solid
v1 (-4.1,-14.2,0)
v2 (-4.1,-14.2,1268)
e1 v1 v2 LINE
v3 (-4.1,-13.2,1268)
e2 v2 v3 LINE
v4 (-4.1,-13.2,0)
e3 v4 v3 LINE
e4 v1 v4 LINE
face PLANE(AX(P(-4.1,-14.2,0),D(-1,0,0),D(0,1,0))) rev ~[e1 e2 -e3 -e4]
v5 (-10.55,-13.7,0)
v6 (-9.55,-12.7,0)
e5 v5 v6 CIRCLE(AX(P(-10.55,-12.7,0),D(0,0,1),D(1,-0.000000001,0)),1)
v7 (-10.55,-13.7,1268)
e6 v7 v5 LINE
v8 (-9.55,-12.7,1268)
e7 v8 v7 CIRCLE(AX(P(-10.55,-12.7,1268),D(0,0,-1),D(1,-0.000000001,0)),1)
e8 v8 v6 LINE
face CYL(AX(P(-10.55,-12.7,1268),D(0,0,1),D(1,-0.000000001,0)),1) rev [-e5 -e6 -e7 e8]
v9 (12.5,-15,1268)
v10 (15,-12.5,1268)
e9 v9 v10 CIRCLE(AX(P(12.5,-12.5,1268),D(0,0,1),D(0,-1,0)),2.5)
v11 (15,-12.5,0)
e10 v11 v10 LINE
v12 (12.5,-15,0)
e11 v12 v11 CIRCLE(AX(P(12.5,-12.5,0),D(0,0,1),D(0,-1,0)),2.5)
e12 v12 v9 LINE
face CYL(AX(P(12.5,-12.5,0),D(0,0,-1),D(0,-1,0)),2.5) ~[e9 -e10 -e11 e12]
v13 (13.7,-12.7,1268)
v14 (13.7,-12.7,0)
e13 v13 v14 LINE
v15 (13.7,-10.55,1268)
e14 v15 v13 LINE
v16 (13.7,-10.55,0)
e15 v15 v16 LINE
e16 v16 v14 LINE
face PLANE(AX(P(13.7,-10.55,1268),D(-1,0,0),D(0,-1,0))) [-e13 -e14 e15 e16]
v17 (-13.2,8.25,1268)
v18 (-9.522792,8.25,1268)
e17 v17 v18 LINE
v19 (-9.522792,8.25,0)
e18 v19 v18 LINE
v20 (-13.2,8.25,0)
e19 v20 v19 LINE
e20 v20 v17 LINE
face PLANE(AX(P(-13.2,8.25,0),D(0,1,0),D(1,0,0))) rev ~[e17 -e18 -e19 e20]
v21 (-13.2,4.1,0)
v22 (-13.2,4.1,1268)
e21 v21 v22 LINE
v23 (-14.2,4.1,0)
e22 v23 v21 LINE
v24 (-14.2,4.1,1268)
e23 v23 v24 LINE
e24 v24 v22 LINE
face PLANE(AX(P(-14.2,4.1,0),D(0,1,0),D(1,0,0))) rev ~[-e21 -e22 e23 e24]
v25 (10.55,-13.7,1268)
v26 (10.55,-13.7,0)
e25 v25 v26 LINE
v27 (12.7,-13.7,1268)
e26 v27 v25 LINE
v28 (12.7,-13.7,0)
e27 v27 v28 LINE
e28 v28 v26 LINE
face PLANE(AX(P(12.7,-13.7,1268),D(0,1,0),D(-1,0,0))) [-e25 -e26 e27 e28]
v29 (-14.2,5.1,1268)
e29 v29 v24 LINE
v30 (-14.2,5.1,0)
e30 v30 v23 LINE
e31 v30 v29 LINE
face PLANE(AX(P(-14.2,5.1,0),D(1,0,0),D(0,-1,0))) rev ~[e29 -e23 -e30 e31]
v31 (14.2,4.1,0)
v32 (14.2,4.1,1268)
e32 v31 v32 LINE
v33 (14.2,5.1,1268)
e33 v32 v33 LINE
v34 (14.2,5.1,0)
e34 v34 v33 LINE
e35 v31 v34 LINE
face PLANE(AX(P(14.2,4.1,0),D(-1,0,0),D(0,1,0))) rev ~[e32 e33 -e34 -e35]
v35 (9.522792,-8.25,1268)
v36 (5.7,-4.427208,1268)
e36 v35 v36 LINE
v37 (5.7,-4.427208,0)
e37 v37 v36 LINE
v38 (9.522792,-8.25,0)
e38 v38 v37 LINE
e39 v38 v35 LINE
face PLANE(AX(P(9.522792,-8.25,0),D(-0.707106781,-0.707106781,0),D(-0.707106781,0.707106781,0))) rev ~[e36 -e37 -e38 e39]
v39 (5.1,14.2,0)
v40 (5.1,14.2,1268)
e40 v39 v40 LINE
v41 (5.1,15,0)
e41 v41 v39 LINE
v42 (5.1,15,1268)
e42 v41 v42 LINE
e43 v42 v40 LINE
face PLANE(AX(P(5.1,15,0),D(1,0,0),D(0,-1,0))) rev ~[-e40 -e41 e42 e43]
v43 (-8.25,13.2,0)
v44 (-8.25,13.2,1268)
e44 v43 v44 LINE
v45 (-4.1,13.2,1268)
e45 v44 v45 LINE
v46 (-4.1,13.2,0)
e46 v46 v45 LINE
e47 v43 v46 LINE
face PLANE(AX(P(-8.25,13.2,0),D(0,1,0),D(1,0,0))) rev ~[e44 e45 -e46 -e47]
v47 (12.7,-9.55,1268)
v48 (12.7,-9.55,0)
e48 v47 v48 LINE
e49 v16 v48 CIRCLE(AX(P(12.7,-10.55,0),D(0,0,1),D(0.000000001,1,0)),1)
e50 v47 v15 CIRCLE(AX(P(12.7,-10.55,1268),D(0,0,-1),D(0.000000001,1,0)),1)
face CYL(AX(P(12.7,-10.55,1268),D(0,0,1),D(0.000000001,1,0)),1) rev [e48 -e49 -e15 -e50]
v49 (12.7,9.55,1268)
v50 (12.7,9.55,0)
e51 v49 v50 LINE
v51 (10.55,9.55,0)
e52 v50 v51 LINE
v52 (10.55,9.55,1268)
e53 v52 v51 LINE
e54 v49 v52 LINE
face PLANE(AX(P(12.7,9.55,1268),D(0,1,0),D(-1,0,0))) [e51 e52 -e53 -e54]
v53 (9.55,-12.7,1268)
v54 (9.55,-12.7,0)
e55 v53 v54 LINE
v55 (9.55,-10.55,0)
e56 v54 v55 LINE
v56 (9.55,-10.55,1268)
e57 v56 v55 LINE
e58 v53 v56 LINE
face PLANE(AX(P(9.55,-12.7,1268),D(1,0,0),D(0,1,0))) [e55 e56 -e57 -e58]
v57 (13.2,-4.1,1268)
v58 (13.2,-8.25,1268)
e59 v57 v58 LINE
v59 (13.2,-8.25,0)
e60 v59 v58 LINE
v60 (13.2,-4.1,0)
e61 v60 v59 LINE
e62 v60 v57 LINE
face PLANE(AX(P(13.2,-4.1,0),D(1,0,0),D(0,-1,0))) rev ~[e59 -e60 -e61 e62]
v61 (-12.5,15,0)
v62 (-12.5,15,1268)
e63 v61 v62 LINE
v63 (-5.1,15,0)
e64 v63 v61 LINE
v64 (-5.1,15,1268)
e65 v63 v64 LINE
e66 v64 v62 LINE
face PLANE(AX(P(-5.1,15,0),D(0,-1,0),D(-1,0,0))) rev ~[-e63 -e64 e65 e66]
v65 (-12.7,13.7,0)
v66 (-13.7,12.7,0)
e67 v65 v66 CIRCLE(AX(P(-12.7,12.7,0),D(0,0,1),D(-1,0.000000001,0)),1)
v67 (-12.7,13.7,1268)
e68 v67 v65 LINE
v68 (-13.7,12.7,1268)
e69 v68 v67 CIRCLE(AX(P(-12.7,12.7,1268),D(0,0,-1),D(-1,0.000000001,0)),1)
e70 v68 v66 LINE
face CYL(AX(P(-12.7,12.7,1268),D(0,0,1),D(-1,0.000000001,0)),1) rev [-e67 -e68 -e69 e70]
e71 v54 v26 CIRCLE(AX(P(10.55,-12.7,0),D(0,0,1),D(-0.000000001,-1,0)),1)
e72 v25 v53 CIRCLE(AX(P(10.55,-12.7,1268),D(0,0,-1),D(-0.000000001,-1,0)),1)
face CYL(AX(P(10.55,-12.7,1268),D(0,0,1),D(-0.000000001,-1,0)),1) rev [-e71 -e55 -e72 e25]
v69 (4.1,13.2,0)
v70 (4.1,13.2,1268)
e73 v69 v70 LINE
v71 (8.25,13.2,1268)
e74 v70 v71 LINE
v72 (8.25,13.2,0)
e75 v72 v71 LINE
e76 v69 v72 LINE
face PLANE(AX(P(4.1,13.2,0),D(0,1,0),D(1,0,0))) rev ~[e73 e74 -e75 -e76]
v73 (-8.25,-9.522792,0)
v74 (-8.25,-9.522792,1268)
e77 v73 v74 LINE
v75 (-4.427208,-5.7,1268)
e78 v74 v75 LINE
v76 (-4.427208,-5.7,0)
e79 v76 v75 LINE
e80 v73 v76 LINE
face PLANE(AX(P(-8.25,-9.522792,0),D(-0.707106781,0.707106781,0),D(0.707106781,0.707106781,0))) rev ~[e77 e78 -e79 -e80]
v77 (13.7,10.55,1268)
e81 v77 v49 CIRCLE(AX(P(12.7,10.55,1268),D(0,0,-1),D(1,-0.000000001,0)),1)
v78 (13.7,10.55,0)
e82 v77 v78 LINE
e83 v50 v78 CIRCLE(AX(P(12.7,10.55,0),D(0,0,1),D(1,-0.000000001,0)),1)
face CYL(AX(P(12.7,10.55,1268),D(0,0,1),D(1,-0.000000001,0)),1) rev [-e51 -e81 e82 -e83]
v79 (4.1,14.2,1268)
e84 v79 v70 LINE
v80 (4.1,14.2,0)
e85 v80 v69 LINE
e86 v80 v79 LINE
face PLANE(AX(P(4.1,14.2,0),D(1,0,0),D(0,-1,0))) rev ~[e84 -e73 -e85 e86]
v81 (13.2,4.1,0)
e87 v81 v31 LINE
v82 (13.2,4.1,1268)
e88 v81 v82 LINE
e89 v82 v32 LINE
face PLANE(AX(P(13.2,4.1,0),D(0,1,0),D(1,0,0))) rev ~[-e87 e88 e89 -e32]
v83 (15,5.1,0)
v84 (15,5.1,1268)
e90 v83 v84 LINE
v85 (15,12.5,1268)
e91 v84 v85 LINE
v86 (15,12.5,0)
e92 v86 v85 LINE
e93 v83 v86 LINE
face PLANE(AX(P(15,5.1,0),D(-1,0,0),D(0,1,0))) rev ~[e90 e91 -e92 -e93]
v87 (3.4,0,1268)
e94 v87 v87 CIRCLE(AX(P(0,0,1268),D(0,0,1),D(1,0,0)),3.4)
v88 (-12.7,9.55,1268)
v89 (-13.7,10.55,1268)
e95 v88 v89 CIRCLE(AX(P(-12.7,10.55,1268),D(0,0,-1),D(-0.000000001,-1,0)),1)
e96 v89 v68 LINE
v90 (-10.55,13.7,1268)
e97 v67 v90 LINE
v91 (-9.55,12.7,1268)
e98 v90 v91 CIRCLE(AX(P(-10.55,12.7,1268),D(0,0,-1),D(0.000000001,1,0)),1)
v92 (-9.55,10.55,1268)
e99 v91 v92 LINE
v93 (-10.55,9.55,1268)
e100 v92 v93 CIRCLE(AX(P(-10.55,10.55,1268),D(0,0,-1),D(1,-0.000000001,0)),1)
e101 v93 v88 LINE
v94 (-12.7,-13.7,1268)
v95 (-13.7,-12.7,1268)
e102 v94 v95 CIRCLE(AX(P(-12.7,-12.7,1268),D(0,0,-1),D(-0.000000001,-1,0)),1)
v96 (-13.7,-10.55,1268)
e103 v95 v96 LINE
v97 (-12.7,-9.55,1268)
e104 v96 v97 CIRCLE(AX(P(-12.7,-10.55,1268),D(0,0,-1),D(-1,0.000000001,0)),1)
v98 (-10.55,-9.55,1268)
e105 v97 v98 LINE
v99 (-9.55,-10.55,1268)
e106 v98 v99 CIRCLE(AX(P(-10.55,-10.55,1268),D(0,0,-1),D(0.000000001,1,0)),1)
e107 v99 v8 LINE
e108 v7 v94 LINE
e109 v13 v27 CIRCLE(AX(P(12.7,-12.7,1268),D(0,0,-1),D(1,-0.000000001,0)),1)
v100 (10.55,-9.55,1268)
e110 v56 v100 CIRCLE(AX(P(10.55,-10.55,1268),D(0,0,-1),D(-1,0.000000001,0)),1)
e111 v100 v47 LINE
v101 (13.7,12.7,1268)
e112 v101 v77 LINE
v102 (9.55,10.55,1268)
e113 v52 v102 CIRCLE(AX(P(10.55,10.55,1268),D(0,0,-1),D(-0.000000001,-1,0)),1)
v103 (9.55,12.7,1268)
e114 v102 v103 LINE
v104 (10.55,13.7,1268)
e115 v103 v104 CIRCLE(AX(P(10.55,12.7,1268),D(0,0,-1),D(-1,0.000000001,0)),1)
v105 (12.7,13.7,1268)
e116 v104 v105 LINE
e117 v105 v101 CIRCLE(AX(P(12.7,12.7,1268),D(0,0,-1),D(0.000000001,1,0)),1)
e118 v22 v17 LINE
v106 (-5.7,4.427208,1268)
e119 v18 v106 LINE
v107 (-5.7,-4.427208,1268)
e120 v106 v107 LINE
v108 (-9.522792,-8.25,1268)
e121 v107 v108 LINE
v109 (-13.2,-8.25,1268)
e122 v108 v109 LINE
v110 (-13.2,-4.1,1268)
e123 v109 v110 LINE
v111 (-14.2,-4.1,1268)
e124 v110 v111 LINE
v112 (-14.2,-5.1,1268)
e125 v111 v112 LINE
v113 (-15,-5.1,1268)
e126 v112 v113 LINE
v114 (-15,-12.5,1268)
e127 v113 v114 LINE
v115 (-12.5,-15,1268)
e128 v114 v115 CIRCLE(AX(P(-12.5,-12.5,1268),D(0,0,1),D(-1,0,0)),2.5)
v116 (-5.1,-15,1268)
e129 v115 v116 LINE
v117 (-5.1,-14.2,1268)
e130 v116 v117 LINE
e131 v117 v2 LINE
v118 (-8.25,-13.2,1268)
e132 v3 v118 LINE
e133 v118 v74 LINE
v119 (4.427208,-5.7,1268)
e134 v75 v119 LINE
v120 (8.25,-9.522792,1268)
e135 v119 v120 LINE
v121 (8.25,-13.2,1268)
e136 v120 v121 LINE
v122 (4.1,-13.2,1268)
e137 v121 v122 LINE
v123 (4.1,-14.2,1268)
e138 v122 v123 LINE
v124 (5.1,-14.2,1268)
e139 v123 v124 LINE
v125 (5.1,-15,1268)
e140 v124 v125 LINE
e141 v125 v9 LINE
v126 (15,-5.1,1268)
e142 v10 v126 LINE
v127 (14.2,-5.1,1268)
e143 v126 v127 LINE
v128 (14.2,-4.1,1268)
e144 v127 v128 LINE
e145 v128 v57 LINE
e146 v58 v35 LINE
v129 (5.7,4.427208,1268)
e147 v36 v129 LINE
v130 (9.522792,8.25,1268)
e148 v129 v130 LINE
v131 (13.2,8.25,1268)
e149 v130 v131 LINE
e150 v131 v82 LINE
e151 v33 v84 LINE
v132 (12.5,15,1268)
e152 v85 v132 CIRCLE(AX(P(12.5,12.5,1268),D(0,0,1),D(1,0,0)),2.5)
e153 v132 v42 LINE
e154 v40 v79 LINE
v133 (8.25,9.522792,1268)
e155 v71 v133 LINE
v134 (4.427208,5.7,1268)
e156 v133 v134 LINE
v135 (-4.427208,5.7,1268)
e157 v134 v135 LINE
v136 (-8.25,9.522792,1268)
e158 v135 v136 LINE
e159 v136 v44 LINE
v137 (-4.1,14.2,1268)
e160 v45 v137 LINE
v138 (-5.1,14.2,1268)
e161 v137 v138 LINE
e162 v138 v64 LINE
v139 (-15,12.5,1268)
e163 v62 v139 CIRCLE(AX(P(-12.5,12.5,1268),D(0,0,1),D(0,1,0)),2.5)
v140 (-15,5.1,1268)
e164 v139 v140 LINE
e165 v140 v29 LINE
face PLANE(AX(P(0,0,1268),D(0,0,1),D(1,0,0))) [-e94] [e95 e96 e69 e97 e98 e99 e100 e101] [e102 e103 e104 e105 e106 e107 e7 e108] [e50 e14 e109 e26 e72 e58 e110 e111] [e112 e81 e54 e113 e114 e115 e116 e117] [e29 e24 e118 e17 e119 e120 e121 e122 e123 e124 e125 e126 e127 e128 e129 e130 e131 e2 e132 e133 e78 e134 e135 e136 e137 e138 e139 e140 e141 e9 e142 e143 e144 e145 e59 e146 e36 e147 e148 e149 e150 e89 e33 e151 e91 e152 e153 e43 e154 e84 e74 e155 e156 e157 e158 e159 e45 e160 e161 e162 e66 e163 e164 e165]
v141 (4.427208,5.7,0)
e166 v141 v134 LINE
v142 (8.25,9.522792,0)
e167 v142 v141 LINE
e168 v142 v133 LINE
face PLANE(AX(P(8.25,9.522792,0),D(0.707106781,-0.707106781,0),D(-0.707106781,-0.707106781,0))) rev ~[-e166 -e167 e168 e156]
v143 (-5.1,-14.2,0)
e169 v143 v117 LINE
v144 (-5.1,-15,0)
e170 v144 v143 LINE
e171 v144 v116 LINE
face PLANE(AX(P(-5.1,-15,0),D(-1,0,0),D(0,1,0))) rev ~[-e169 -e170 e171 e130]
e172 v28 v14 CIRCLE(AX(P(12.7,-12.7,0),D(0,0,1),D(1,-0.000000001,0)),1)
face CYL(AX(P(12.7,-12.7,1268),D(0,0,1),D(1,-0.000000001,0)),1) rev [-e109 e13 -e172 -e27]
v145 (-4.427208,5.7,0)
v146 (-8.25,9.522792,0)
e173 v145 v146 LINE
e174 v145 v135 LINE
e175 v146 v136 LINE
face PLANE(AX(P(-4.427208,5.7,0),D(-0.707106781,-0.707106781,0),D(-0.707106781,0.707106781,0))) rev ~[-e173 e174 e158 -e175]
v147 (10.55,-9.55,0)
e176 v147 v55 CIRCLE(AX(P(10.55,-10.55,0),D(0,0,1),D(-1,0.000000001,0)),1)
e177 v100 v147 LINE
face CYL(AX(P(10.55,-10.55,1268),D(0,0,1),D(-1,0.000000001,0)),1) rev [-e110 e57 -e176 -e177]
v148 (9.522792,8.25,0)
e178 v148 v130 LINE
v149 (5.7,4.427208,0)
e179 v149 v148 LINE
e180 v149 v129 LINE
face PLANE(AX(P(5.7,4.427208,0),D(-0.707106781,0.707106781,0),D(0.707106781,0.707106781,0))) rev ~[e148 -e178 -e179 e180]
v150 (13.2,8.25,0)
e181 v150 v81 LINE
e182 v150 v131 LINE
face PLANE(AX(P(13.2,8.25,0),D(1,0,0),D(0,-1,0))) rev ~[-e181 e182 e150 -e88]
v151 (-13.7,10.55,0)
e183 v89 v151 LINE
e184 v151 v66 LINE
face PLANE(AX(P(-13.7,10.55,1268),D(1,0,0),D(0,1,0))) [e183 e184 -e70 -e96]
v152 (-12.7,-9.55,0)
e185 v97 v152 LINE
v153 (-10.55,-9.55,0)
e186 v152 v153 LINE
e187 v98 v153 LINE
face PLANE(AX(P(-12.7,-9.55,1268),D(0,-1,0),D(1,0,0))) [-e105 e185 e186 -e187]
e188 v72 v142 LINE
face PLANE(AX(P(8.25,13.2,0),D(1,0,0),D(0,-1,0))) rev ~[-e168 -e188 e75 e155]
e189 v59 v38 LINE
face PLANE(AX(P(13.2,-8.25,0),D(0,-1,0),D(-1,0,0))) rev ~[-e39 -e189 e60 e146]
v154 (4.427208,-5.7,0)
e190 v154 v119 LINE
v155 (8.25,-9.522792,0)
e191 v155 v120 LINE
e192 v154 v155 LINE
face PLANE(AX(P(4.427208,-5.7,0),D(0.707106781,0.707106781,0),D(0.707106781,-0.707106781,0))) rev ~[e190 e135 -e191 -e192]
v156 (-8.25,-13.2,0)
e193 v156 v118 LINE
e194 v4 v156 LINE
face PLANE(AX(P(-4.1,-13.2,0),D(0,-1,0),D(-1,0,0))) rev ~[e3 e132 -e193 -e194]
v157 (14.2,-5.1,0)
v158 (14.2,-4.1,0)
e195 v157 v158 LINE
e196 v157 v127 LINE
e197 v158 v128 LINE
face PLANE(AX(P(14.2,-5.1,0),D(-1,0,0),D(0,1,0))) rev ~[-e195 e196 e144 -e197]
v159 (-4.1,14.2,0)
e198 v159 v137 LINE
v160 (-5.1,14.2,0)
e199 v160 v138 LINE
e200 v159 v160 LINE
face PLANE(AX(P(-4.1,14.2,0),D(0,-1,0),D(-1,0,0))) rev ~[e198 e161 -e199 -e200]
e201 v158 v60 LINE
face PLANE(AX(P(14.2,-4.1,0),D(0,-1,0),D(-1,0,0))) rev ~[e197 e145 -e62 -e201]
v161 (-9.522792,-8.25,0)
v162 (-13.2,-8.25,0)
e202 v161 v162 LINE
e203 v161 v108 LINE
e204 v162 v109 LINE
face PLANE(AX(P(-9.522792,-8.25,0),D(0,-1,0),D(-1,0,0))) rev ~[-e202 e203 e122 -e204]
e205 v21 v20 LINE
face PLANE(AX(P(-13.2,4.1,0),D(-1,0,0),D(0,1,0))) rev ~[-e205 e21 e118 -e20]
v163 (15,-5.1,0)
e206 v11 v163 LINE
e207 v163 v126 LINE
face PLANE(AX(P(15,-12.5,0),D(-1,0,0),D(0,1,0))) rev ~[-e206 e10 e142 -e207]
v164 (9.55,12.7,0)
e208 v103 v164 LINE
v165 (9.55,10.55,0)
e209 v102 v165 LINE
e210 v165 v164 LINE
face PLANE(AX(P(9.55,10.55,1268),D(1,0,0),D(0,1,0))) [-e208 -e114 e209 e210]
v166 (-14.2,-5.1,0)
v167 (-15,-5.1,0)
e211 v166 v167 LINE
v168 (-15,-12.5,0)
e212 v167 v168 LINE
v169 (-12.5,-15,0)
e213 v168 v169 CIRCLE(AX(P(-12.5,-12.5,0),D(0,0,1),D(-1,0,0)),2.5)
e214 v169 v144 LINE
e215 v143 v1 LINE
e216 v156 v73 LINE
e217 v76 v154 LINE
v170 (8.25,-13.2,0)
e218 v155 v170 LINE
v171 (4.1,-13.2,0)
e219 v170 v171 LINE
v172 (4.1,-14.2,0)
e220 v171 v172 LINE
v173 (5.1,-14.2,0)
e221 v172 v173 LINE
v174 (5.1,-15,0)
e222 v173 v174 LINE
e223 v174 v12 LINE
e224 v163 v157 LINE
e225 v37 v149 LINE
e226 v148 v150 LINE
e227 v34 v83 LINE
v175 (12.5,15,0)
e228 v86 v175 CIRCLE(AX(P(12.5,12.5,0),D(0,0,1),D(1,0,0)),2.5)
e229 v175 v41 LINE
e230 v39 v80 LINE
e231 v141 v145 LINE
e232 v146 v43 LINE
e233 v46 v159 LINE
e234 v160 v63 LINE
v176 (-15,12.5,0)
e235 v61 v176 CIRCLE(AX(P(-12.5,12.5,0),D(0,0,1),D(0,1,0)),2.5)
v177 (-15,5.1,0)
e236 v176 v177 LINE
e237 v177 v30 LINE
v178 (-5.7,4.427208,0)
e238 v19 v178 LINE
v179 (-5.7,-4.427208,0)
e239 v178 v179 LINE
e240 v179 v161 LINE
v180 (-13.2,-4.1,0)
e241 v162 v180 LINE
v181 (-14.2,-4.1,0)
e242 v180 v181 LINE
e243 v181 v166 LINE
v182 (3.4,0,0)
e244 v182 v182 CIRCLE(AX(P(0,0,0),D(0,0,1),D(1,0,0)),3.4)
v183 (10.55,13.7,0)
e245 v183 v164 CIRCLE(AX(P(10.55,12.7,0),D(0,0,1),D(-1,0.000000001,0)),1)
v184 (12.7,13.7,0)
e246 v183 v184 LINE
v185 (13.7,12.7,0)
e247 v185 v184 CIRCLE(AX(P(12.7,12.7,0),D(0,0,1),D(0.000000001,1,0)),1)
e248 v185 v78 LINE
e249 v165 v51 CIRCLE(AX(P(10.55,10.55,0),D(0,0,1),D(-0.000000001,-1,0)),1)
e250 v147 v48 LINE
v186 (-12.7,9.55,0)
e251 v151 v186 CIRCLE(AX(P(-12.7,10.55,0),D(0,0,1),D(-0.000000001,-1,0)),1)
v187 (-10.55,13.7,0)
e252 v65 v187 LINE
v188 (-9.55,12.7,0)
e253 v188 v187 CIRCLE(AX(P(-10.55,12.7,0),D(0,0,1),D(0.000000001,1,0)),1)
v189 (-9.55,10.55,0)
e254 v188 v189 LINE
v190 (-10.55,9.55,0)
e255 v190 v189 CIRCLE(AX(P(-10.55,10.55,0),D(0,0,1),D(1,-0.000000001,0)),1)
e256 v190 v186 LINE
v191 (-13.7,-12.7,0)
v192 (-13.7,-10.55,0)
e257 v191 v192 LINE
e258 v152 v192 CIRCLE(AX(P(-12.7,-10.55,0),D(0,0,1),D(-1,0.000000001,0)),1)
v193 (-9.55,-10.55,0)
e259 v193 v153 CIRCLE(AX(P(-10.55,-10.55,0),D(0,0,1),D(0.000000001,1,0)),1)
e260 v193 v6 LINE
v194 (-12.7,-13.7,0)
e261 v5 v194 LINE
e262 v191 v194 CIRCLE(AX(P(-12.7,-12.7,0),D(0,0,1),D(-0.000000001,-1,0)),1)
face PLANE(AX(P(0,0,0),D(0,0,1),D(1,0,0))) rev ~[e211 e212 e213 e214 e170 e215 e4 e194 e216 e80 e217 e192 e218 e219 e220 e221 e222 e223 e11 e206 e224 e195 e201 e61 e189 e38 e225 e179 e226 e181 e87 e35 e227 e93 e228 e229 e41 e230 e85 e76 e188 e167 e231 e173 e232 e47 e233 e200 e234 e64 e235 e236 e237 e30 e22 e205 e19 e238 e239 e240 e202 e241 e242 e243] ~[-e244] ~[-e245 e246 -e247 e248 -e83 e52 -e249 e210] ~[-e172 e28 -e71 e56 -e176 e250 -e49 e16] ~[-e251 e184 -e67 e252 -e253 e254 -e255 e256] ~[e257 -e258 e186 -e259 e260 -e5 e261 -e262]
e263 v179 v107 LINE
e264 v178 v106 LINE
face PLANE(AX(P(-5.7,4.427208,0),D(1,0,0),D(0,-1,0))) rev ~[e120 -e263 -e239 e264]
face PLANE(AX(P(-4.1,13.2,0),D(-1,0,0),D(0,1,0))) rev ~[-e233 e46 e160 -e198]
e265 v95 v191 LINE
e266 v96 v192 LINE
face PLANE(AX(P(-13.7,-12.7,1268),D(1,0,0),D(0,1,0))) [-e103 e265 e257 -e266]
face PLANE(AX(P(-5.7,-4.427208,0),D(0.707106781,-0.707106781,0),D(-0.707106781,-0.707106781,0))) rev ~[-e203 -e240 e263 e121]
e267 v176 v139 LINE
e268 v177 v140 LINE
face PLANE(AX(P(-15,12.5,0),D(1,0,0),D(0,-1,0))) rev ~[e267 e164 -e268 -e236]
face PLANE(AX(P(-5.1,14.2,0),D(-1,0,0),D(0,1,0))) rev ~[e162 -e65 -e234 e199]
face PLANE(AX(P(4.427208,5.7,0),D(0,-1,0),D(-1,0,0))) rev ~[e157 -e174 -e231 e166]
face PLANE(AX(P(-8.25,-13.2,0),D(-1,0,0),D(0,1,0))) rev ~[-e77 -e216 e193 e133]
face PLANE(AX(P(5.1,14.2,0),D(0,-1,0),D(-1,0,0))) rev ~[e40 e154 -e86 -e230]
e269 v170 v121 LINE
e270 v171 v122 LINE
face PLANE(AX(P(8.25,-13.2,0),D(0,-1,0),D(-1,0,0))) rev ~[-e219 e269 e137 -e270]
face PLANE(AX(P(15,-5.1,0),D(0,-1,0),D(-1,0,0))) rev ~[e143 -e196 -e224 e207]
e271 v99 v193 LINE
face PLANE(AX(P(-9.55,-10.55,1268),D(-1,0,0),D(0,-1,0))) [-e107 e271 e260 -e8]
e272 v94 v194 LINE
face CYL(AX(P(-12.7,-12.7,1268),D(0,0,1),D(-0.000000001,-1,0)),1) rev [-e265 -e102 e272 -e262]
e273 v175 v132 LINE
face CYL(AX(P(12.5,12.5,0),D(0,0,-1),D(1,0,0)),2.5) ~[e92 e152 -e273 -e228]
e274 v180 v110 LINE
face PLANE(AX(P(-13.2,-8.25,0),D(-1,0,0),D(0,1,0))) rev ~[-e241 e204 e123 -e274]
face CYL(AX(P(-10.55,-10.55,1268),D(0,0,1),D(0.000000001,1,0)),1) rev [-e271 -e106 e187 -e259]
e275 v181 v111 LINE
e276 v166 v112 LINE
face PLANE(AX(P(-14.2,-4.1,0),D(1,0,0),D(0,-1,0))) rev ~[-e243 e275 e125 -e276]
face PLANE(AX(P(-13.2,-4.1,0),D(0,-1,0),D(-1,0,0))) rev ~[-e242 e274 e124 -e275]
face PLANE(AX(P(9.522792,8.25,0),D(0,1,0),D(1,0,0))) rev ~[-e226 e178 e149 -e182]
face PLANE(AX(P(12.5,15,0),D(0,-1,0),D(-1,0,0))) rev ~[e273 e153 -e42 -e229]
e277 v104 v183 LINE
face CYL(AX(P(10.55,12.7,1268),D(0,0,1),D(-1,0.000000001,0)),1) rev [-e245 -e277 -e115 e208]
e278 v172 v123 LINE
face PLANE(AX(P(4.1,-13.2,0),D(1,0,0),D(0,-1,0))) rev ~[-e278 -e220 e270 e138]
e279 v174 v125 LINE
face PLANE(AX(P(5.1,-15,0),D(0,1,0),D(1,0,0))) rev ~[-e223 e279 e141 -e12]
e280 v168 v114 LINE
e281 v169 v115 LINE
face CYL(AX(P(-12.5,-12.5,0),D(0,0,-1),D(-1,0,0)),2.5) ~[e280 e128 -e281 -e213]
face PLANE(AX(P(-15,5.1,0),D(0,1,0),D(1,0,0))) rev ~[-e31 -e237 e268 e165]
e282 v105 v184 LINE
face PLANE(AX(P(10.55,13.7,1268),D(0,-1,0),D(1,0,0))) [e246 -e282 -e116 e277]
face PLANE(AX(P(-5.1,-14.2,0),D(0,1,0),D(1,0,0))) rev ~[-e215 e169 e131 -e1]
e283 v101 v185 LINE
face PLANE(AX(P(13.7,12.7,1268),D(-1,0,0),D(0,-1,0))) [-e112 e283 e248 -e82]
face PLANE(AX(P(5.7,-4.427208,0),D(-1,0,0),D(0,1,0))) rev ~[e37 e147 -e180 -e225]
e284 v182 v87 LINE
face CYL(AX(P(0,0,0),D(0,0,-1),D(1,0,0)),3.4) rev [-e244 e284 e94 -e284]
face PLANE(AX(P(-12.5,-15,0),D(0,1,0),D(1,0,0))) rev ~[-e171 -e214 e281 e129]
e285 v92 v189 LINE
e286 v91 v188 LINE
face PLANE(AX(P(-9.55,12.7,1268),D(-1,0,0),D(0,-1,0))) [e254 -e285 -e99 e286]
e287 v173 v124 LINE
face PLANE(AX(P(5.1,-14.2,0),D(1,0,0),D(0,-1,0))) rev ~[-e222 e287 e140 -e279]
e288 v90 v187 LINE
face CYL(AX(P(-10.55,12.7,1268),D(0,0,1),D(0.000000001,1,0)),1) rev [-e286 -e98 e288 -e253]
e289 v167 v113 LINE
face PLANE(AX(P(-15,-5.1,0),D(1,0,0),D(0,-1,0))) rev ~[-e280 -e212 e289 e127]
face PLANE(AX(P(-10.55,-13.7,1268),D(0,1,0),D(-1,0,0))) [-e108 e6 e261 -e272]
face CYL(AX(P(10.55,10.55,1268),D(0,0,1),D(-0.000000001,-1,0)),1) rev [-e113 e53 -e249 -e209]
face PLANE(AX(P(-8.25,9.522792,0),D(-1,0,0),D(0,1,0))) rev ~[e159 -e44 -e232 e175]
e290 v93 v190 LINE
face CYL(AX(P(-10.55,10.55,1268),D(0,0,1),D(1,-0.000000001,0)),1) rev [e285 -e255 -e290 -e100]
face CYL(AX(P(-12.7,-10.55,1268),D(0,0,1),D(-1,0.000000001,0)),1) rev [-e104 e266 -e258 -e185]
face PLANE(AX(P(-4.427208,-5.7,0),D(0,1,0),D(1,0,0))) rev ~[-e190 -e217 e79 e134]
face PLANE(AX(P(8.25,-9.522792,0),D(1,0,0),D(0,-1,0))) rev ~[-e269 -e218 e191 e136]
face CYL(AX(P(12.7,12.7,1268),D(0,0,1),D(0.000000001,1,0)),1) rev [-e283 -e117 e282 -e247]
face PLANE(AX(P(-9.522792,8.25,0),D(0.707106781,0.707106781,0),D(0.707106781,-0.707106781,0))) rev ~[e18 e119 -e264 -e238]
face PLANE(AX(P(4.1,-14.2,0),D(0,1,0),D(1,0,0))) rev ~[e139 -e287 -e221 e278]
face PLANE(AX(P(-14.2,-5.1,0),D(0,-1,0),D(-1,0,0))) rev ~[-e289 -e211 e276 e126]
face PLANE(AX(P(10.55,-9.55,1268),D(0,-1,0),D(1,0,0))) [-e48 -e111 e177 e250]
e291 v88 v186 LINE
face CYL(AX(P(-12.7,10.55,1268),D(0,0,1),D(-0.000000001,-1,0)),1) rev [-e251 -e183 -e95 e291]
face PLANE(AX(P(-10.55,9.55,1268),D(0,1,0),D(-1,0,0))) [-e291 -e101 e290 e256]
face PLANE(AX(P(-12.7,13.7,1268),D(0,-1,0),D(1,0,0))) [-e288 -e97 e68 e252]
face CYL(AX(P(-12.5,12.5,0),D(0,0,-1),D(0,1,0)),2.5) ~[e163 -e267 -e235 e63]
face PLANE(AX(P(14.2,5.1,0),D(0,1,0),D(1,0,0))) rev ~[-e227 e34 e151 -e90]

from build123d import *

# Parameters (mm, degrees)
SKETCH1_R      = 3.4
EXTRUDE1_DEPTH = 1268
EXTRUDE2_DEPTH = 1269.177432381


with BuildPart() as part:
    # Sketch1 → Extrude1 (new body)
    with BuildSketch(Plane.XY):
        with BuildLine():
            Line((-5.1, 14.2), (-5.1, 15))
            Line((-5.1, 15), (-12.5, 15))
            ThreePointArc((-12.5, 15), (-14.267766953, 14.267766953), (-15, 12.5))
            Line((-15, 12.5), (-15, 5.1))
            Line((-15, 5.1), (-14.2, 5.1))
            Line((-14.2, 5.1), (-14.2, 4.1))
            Line((-14.2, 4.1), (-13.2, 4.1))
            Line((-13.2, 4.1), (-13.2, 8.25))
            Line((-13.2, 8.25), (-9.522792206, 8.25))
            Line((-9.522792206, 8.25), (-5.7, 4.427207794))
            Line((-5.7, 4.427207794), (-5.7, -4.427207794))
            Line((-5.7, -4.427207794), (-9.522792206, -8.25))
            Line((-9.522792206, -8.25), (-13.2, -8.25))
            Line((-13.2, -8.25), (-13.2, -4.1))
            Line((-13.2, -4.1), (-14.2, -4.1))
            Line((-14.2, -4.1), (-14.2, -5.1))
            Line((-14.2, -5.1), (-15, -5.1))
            Line((-15, -5.1), (-15, -12.5))
            ThreePointArc((-15, -12.5), (-14.267766953, -14.267766953), (-12.5, -15))
            Line((-12.5, -15), (-5.1, -15))
            Line((-5.1, -15), (-5.1, -14.2))
            Line((-5.1, -14.2), (-4.1, -14.2))
            Line((-4.1, -14.2), (-4.1, -13.2))
            Line((-4.1, -13.2), (-8.25, -13.2))
            Line((-8.25, -13.2), (-8.25, -9.522792206))
            Line((-8.25, -9.522792206), (-4.427207794, -5.7))
            Line((-4.427207794, -5.7), (4.427207794, -5.7))
            Line((4.427207794, -5.7), (8.25, -9.522792206))
            Line((8.25, -9.522792206), (8.25, -13.2))
            Line((8.25, -13.2), (4.1, -13.2))
            Line((4.1, -13.2), (4.1, -14.2))
            Line((4.1, -14.2), (5.1, -14.2))
            Line((5.1, -14.2), (5.1, -15))
            Line((5.1, -15), (12.5, -15))
            ThreePointArc((12.5, -15), (14.267766953, -14.267766953), (15, -12.5))
            Line((15, -12.5), (15, -5.1))
            Line((15, -5.1), (14.2, -5.1))
            Line((14.2, -5.1), (14.2, -4.1))
            Line((14.2, -4.1), (13.2, -4.1))
            Line((13.2, -4.1), (13.2, -8.25))
            Line((13.2, -8.25), (9.522792206, -8.25))
            Line((9.522792206, -8.25), (5.7, -4.427207794))
            Line((5.7, -4.427207794), (5.7, 4.427207794))
            Line((5.7, 4.427207794), (9.522792206, 8.25))
            Line((9.522792206, 8.25), (13.2, 8.25))
            Line((13.2, 8.25), (13.2, 4.1))
            Line((13.2, 4.1), (14.2, 4.1))
            Line((14.2, 4.1), (14.2, 5.1))
            Line((14.2, 5.1), (15, 5.1))
            Line((15, 5.1), (15, 12.5))
            ThreePointArc((15, 12.5), (14.267766953, 14.267766953), (12.5, 15))
            Line((12.5, 15), (5.1, 15))
            Line((5.1, 15), (5.1, 14.2))
            Line((5.1, 14.2), (4.1, 14.2))
            Line((4.1, 14.2), (4.1, 13.2))
            Line((4.1, 13.2), (8.25, 13.2))
            Line((8.25, 13.2), (8.25, 9.522792206))
            Line((8.25, 9.522792206), (4.427207794, 5.7))
            Line((4.427207794, 5.7), (-4.427207794, 5.7))
            Line((-4.427207794, 5.7), (-8.25, 9.522792206))
            Line((-8.25, 9.522792206), (-8.25, 13.2))
            Line((-8.25, 13.2), (-4.1, 13.2))
            Line((-4.1, 13.2), (-4.1, 14.2))
            Line((-4.1, 14.2), (-5.1, 14.2))
        make_face()
        Circle(SKETCH1_R, mode=Mode.SUBTRACT)
    extrude(amount=EXTRUDE1_DEPTH)

    # Sketch2 → Extrude2 (cut, through all)
    with BuildSketch(Plane.XY.offset(1268)):
        with BuildLine():
            Line((13.7, 12.7), (13.7, 10.55))
            ThreePointArc((13.7, 10.55), (13.407106781, 9.842893219), (12.7, 9.55))
            Line((12.7, 9.55), (10.55, 9.55))
            ThreePointArc((10.55, 9.55), (9.842893219, 9.842893219), (9.55, 10.55))
            Line((9.55, 10.55), (9.55, 12.7))
            ThreePointArc((9.55, 12.7), (9.842893219, 13.407106781), (10.55, 13.7))
            Line((10.55, 13.7), (12.7, 13.7))
            ThreePointArc((12.7, 13.7), (13.407106781, 13.407106781), (13.7, 12.7))
        make_face()
        with BuildLine():
            Line((-12.7, 13.7), (-10.55, 13.7))
            ThreePointArc((-10.55, 13.7), (-9.842893219, 13.407106781), (-9.55, 12.7))
            Line((-9.55, 12.7), (-9.55, 10.55))
            ThreePointArc((-9.55, 10.55), (-9.842893219, 9.842893219), (-10.55, 9.55))
            Line((-10.55, 9.55), (-12.7, 9.55))
            ThreePointArc((-12.7, 9.55), (-13.407106781, 9.842893219), (-13.7, 10.55))
            Line((-13.7, 10.55), (-13.7, 12.7))
            ThreePointArc((-13.7, 12.7), (-13.407106781, 13.407106781), (-12.7, 13.7))
        make_face()
        with BuildLine():
            Line((12.7, -13.7), (10.55, -13.7))
            ThreePointArc((10.55, -13.7), (9.842893219, -13.407106781), (9.55, -12.7))
            Line((9.55, -12.7), (9.55, -10.55))
            ThreePointArc((9.55, -10.55), (9.842893219, -9.842893219), (10.55, -9.55))
            Line((10.55, -9.55), (12.7, -9.55))
            ThreePointArc((12.7, -9.55), (13.407106781, -9.842893219), (13.7, -10.55))
            Line((13.7, -10.55), (13.7, -12.7))
            ThreePointArc((13.7, -12.7), (13.407106781, -13.407106781), (12.7, -13.7))
        make_face()
        with BuildLine():
            Line((-13.7, -12.7), (-13.7, -10.55))
            ThreePointArc((-13.7, -10.55), (-13.407106781, -9.842893219), (-12.7, -9.55))
            Line((-12.7, -9.55), (-10.55, -9.55))
            ThreePointArc((-10.55, -9.55), (-9.842893219, -9.842893219), (-9.55, -10.55))
            Line((-9.55, -10.55), (-9.55, -12.7))
            ThreePointArc((-9.55, -12.7), (-9.842893219, -13.407106781), (-10.55, -13.7))
            Line((-10.55, -13.7), (-12.7, -13.7))
            ThreePointArc((-12.7, -13.7), (-13.407106781, -13.407106781), (-13.7, -12.7))
        make_face()
    extrude(amount=-EXTRUDE2_DEPTH, mode=Mode.SUBTRACT)


solid = part.part
